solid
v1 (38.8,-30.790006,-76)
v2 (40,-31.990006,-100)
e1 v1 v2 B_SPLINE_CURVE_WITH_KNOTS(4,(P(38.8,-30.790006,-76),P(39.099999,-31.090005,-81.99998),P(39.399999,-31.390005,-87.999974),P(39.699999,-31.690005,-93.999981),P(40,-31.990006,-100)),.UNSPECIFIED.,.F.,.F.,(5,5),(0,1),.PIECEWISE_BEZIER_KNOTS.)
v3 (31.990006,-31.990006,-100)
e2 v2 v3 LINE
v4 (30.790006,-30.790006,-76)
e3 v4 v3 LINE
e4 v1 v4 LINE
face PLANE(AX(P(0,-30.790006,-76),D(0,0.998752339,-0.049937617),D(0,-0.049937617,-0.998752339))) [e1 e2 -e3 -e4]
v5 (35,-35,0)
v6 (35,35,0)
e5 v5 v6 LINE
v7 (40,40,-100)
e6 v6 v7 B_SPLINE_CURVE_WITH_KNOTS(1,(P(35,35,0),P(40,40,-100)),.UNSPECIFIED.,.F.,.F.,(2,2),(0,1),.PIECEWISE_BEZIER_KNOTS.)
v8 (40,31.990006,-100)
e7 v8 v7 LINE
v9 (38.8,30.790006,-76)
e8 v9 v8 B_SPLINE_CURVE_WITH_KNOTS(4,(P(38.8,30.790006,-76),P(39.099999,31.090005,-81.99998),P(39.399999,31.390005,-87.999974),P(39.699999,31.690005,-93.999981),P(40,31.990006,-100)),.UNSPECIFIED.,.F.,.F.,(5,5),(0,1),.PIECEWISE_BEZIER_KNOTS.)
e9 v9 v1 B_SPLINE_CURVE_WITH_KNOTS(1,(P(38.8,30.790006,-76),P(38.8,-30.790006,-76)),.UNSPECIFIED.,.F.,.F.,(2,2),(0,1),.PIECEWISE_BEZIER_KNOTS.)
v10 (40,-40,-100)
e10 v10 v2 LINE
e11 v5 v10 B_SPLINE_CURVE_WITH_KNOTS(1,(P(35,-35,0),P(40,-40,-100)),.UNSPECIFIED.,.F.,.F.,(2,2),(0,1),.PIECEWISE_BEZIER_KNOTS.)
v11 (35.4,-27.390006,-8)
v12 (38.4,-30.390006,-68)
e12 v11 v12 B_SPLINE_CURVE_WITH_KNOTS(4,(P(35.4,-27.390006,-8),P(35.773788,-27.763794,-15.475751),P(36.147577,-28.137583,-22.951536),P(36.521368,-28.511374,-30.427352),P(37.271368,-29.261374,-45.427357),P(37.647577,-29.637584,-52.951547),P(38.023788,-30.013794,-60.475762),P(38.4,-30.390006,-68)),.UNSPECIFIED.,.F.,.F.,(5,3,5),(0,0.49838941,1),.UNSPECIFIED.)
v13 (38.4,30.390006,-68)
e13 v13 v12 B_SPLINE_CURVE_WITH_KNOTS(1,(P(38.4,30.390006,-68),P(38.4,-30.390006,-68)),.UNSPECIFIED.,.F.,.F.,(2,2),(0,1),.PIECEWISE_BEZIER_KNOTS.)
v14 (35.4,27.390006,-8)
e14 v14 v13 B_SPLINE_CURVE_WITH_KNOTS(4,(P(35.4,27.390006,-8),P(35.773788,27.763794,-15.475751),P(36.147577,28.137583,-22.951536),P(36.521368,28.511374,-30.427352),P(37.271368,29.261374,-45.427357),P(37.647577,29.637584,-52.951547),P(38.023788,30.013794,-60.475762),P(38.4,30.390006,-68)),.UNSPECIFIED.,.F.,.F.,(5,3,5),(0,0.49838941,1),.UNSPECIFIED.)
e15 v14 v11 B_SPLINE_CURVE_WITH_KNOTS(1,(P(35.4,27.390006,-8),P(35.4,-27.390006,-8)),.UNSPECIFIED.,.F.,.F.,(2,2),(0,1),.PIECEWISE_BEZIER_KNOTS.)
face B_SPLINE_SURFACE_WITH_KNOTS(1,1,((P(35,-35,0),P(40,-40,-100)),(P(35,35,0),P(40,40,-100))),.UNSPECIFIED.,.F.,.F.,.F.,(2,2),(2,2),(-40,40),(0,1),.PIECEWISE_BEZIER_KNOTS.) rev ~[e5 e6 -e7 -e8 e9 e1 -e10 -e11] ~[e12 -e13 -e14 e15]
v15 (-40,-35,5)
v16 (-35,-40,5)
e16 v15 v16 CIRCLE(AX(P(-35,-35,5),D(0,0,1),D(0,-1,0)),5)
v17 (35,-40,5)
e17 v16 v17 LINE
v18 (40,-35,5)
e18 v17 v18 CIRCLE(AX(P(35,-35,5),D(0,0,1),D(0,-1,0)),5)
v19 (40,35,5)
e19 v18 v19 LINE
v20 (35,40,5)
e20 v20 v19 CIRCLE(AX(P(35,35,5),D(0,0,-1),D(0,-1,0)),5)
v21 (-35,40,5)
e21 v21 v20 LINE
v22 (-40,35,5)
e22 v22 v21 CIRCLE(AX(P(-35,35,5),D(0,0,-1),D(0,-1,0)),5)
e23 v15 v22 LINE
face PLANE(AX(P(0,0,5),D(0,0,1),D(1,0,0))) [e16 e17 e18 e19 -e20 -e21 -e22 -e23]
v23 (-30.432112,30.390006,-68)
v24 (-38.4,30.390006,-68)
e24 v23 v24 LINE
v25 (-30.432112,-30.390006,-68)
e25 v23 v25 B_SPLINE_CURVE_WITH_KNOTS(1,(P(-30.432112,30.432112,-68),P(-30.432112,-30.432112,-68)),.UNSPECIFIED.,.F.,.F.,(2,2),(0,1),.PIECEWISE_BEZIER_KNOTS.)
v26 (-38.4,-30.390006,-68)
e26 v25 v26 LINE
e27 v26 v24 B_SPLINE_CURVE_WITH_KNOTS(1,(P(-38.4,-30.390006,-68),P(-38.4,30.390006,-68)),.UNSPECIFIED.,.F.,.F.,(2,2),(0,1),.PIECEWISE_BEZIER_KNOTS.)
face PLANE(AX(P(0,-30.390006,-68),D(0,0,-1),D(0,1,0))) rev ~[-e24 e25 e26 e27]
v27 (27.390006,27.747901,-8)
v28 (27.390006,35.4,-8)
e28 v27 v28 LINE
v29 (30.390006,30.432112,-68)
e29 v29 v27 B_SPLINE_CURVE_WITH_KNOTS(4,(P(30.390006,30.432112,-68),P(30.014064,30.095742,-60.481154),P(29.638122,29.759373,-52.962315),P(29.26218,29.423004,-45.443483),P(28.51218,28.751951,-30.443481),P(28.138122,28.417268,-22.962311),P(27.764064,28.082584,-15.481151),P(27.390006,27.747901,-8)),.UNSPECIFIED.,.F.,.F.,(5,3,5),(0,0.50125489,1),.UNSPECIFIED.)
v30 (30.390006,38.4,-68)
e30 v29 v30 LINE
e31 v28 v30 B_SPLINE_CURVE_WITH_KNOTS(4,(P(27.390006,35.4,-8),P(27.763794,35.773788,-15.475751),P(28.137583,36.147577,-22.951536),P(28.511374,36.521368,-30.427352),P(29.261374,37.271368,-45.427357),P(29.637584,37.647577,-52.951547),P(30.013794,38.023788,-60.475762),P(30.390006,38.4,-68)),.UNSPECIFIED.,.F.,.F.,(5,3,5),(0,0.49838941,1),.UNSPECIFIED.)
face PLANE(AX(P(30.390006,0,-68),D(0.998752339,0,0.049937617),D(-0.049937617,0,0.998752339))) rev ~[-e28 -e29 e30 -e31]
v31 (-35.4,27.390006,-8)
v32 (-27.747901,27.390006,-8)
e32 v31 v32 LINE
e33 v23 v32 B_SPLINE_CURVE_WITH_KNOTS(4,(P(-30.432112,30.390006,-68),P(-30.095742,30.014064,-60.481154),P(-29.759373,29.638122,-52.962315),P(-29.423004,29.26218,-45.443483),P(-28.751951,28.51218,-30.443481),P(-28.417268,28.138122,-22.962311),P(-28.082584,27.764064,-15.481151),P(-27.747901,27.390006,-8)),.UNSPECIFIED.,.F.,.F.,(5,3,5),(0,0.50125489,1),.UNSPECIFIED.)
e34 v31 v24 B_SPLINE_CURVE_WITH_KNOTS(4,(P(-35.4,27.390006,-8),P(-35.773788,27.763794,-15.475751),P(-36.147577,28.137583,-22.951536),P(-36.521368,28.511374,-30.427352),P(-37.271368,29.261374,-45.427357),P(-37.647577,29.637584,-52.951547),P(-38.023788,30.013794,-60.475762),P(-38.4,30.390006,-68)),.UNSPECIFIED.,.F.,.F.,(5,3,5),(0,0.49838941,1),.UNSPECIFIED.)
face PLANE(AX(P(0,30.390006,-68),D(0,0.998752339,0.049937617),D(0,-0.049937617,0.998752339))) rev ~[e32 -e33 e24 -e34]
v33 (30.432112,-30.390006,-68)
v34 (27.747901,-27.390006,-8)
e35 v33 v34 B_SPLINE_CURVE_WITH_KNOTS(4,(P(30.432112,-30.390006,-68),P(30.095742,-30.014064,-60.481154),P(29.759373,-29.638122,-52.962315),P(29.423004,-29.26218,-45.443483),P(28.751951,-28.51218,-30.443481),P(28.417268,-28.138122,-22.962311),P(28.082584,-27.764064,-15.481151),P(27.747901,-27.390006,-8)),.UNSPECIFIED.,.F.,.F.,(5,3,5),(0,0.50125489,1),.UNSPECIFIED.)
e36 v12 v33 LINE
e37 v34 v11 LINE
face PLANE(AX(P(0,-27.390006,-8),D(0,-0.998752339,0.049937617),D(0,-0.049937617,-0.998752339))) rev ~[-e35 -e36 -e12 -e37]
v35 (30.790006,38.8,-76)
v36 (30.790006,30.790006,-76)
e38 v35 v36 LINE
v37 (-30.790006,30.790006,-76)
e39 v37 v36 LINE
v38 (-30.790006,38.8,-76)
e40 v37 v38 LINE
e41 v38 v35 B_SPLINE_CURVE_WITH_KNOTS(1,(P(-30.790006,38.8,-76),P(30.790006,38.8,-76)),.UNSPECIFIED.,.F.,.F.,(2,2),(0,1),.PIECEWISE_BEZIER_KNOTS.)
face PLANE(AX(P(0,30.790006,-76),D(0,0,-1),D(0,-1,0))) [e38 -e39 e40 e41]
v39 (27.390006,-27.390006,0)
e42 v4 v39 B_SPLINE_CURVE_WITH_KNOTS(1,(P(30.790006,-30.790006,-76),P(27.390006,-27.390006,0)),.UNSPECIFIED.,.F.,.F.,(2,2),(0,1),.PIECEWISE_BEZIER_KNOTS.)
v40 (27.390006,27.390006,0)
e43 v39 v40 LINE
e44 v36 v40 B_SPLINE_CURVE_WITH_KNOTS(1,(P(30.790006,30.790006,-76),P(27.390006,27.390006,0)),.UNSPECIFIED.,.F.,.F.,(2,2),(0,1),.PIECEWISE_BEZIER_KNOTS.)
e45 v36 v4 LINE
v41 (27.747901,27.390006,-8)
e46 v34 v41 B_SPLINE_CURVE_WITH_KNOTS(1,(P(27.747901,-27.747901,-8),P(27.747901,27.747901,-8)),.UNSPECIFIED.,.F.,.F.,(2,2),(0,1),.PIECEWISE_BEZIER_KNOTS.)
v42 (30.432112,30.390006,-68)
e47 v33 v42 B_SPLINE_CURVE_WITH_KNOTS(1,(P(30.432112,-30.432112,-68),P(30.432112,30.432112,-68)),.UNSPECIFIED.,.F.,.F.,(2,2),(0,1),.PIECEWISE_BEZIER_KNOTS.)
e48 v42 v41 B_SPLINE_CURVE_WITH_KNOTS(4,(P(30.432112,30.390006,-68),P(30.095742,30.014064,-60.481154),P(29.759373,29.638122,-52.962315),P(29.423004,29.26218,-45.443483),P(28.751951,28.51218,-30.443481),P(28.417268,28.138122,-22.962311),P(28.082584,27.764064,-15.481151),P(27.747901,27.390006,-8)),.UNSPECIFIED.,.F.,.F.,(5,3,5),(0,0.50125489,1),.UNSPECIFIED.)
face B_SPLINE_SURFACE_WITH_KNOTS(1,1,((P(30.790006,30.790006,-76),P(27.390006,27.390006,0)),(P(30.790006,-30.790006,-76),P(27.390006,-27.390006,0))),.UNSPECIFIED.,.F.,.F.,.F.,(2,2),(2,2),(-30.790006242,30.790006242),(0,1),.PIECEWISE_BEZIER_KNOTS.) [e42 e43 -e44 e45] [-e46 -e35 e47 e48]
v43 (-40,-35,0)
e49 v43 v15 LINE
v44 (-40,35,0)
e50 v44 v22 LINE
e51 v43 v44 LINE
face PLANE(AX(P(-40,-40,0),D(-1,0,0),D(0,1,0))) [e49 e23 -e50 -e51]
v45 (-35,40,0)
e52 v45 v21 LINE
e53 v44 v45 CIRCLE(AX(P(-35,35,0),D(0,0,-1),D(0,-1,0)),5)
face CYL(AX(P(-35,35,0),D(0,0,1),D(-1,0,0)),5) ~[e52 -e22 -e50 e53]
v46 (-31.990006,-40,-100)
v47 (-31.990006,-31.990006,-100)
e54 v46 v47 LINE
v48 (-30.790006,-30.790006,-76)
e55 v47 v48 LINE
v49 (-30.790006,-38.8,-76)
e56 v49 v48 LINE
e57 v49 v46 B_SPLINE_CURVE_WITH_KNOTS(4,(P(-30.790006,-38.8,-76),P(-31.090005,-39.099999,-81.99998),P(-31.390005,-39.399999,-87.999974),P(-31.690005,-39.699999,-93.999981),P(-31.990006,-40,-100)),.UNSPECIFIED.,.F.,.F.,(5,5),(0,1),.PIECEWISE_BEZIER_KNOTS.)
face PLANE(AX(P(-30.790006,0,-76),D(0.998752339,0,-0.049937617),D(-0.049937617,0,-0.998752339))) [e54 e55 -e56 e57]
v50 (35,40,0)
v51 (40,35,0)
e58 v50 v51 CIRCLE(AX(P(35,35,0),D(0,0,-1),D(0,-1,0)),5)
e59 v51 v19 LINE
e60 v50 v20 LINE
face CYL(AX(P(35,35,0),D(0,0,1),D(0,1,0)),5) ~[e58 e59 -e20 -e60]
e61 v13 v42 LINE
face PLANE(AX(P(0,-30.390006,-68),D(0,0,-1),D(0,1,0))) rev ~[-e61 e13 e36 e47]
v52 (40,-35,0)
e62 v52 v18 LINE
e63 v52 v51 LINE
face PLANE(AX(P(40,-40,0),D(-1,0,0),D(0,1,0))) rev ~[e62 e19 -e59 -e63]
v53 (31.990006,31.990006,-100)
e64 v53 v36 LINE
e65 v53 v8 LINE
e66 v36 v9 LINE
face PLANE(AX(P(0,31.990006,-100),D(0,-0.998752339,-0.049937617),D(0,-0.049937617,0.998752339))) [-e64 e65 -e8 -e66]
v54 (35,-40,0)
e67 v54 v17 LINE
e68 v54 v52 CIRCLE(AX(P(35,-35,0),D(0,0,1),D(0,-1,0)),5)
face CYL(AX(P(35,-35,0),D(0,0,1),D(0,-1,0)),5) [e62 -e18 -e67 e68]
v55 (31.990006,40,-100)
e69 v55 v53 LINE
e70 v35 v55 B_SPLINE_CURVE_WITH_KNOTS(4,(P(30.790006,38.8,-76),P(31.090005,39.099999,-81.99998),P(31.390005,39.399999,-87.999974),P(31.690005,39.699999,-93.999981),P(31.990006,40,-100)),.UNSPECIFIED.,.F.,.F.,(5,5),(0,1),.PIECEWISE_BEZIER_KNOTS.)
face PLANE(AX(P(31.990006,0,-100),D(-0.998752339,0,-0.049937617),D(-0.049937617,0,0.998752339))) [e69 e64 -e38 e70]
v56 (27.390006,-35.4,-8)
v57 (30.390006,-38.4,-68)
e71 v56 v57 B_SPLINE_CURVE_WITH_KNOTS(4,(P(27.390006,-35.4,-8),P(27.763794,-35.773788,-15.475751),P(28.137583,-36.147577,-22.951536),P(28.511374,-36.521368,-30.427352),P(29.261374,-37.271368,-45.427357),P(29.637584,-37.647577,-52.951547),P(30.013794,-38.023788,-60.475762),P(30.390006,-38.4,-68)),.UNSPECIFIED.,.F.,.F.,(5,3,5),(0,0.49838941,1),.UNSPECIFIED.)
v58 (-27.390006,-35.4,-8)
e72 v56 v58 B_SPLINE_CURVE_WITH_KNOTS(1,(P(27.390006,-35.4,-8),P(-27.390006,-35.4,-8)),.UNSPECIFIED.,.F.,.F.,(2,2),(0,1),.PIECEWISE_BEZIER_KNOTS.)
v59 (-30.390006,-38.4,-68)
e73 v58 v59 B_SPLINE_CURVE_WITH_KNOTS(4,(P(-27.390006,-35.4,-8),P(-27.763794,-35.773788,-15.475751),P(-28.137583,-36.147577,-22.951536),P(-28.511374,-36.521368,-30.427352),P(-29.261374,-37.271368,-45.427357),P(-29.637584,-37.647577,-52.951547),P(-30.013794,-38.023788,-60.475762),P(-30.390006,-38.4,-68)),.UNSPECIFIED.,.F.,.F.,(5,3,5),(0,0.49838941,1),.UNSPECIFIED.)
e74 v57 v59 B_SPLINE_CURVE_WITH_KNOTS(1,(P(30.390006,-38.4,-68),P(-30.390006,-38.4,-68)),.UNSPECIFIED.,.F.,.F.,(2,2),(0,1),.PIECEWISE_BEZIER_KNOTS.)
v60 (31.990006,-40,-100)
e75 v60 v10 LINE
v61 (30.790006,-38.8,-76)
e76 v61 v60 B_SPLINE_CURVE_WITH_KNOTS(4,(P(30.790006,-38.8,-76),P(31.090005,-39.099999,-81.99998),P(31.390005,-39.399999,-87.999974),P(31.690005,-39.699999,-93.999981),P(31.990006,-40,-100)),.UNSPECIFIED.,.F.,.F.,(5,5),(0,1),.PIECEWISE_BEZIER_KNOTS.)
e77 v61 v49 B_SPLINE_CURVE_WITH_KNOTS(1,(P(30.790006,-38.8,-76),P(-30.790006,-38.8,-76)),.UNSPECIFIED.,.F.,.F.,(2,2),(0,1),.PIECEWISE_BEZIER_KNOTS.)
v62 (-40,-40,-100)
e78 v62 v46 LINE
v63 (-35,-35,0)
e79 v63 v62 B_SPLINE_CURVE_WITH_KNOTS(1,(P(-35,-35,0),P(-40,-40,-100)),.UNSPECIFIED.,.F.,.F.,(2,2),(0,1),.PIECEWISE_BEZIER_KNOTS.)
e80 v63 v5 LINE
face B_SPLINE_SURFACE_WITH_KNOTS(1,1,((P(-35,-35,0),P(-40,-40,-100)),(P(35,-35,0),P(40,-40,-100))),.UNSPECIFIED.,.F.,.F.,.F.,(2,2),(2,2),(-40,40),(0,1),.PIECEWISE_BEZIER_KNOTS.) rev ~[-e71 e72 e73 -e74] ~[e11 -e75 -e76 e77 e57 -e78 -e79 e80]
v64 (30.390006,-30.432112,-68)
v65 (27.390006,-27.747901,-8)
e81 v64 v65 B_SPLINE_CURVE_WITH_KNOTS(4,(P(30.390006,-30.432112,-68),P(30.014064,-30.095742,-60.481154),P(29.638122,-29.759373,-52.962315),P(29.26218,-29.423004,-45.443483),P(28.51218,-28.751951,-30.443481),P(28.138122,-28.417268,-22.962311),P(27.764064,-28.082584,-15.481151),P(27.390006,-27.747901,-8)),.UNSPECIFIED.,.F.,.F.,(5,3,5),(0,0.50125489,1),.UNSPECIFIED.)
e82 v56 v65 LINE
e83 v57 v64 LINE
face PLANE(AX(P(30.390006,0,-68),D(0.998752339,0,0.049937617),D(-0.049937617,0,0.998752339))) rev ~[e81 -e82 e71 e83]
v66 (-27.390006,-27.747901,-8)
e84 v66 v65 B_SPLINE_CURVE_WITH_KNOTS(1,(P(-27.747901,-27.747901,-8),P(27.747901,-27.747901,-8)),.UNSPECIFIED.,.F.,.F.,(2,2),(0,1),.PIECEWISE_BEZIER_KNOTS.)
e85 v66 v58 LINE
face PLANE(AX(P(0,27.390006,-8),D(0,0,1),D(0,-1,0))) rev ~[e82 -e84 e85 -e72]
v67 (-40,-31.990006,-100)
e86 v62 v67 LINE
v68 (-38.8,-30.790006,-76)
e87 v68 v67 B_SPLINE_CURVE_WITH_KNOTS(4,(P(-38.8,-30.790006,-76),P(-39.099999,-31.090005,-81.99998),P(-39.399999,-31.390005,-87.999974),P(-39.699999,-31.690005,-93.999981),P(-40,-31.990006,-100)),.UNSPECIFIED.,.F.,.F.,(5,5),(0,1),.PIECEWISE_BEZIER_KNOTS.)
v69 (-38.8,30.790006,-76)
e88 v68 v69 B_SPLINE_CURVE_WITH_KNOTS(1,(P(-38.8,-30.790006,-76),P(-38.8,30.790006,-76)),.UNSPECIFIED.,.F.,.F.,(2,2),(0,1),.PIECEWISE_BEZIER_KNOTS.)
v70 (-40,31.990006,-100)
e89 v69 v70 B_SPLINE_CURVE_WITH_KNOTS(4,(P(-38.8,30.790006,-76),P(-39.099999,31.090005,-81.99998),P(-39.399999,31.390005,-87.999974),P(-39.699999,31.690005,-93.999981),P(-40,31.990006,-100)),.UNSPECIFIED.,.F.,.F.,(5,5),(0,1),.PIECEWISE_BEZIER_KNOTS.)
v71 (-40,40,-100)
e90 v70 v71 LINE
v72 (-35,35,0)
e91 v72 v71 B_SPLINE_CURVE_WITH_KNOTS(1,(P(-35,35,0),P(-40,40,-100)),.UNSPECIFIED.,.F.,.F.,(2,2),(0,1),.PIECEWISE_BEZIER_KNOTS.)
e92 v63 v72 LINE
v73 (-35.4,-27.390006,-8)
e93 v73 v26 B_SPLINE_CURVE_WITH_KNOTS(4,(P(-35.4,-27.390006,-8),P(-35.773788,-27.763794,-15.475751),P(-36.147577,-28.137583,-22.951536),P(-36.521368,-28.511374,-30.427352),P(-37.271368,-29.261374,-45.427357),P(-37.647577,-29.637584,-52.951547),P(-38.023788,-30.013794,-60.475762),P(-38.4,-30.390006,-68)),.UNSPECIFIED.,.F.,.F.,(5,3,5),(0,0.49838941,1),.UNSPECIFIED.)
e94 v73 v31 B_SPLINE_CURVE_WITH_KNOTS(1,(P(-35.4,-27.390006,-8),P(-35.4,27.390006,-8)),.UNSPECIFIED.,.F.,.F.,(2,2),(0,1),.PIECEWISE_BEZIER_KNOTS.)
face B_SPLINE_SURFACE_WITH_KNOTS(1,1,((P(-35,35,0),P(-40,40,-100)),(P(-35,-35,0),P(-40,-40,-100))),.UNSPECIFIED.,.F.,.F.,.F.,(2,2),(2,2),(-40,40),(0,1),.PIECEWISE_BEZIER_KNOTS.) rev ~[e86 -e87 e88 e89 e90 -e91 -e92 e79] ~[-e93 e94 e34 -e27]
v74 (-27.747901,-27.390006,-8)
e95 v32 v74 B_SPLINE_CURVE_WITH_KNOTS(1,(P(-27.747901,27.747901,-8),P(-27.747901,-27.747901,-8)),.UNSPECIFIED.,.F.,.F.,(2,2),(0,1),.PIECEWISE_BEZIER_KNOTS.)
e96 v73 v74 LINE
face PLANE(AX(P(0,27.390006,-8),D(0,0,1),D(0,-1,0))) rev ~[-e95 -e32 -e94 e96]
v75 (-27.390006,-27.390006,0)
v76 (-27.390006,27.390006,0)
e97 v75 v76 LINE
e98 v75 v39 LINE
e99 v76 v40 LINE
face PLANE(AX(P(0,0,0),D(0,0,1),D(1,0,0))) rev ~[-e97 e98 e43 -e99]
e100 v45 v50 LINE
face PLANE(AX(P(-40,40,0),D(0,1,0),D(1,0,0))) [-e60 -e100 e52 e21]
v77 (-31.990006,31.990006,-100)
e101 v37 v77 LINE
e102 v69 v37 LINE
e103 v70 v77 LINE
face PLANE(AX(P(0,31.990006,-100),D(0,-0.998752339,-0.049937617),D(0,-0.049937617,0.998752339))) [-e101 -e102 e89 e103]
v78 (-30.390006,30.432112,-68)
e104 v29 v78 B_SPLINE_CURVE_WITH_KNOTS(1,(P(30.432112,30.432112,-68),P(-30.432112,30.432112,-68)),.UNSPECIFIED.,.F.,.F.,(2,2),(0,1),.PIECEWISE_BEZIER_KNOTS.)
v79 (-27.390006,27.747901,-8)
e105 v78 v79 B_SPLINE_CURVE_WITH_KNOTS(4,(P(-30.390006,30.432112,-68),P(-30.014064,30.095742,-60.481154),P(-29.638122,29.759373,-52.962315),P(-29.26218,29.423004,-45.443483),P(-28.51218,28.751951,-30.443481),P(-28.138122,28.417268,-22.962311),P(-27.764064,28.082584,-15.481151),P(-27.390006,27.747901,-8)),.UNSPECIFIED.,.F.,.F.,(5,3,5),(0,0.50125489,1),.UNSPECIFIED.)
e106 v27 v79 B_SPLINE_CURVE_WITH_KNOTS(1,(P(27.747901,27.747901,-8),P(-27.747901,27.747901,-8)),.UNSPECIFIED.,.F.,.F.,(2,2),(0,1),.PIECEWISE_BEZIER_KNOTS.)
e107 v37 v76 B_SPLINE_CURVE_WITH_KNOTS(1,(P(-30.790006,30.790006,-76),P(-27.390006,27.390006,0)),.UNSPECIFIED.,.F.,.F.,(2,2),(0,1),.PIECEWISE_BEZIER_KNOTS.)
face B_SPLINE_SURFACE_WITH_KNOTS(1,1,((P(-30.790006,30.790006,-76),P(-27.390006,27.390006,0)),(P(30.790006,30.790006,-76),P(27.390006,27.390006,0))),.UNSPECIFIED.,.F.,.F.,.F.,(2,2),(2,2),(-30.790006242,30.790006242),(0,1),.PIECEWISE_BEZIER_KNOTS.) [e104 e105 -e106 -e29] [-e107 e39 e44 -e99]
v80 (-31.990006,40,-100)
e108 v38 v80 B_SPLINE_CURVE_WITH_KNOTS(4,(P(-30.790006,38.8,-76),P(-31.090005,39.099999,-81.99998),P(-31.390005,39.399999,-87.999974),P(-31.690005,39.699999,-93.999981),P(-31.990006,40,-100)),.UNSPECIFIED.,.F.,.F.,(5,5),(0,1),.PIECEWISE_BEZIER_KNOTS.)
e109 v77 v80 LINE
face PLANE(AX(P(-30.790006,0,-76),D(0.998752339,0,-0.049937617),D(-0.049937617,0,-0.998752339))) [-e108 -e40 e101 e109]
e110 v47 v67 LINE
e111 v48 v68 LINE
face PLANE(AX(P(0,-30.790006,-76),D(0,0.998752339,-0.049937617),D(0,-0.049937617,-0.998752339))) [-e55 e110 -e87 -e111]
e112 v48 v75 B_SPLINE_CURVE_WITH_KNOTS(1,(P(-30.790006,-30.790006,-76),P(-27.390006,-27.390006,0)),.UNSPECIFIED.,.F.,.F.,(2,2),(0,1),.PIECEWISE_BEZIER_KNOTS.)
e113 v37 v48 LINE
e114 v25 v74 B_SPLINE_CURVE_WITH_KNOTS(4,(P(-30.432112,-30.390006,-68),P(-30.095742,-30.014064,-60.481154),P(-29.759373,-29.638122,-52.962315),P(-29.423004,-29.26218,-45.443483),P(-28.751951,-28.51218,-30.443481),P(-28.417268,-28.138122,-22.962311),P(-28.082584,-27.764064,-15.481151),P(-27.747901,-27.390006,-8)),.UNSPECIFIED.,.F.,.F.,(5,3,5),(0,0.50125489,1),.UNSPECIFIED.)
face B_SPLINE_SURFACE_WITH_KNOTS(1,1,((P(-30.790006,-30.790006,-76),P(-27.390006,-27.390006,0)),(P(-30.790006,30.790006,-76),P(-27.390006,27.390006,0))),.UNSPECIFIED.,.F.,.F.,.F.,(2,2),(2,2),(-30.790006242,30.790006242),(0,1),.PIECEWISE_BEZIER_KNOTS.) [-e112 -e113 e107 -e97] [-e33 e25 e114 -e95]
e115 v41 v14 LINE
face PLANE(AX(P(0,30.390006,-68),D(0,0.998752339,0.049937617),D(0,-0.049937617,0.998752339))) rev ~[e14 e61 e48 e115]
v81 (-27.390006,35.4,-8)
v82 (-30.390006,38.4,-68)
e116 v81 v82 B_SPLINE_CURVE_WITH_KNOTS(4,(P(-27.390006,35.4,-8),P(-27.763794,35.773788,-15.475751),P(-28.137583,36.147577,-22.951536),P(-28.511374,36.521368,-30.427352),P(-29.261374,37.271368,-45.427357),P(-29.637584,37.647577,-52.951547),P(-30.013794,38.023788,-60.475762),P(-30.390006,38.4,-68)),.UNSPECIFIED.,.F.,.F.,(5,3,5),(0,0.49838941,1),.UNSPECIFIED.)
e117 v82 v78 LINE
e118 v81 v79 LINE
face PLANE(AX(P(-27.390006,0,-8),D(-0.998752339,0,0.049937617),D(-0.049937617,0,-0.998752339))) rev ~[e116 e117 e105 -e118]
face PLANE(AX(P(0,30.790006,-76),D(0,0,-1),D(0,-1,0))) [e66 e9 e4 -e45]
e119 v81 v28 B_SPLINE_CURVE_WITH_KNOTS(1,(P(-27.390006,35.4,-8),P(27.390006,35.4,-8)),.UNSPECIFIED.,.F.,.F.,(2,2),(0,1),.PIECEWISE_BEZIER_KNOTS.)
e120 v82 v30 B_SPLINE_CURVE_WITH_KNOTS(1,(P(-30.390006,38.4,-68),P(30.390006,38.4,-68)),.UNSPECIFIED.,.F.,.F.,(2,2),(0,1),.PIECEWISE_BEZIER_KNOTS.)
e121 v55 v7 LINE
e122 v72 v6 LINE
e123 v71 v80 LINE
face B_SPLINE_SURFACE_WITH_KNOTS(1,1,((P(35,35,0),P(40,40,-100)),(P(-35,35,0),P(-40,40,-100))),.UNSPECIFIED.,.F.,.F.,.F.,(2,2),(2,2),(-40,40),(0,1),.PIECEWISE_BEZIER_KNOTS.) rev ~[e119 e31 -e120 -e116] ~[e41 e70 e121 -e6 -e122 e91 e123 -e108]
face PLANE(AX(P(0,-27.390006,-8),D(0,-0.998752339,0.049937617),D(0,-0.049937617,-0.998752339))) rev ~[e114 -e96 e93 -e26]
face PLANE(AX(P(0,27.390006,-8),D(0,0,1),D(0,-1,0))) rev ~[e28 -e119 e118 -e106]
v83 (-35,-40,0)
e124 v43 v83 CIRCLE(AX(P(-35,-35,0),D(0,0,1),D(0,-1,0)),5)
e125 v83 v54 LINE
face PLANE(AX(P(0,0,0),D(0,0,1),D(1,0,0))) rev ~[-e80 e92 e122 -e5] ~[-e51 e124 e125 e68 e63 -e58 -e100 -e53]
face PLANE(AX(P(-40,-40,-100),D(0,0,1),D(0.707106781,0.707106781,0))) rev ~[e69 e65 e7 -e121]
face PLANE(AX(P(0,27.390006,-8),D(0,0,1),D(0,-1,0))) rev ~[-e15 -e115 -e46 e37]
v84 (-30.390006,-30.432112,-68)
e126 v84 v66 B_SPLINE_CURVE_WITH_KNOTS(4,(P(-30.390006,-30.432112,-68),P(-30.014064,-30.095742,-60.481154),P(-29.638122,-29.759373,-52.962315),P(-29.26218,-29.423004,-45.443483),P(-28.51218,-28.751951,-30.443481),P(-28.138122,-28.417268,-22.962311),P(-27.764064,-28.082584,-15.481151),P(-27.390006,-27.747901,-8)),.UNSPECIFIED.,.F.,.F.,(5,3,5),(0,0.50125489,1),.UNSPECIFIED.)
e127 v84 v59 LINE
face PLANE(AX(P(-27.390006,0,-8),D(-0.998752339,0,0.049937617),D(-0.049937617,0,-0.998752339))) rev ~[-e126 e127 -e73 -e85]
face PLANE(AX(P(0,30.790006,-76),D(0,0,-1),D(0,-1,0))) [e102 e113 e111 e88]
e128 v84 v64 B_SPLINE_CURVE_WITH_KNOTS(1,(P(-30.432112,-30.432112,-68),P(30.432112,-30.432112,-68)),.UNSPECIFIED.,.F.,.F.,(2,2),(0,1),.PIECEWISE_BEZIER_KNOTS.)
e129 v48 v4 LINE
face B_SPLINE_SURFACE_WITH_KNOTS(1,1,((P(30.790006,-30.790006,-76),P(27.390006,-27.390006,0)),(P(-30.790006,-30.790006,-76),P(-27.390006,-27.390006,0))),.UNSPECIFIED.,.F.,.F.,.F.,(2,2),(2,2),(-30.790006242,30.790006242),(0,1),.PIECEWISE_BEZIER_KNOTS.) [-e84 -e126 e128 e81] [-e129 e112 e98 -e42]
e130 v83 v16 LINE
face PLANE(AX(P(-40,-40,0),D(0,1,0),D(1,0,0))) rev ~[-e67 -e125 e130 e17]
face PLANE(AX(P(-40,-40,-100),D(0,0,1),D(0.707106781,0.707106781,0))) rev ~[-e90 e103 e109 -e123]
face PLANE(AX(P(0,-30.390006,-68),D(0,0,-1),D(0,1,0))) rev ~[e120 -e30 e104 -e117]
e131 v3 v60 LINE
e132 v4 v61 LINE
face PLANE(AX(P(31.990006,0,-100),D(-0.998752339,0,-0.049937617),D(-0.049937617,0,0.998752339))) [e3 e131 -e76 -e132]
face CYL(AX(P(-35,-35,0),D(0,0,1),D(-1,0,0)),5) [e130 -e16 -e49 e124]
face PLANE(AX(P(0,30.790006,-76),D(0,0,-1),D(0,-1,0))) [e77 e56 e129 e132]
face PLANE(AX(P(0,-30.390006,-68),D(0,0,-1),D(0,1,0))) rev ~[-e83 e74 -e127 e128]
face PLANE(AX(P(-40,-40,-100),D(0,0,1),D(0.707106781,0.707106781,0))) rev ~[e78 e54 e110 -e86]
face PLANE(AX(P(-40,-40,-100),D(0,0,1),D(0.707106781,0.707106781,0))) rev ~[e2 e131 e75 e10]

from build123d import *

# Parameters (mm, degrees)
F0_W      = 70
F0_H      = 70
F2_W      = 80
F2_H      = 80
F5_DEPTH  = 62.8
F7_DEPTH  = 96
F8_W      = 61.5800124844
F8_H      = 61.5800124844
F9_W      = 54.7800124844
F9_H      = 54.7800124844
F11_W     = 80
F11_H     = 80
F12_DEPTH = 5
F13_R     = 5


with BuildPart() as f3:
    # F0 (on Top) → F3 section 0
    with BuildSketch(Plane.XY):
        Rectangle(F0_W, F0_H)
    # F2 (on offset) → F3 section 1
    with BuildSketch(Plane.XY.offset(-100)):
        Rectangle(F2_W, F2_H)
    loft()

    # F4 (on Front) → F5 (cut, symmetric)
    with BuildSketch(Plane.XZ):
        Polygon((-31.9900062422, -100), (31.9900062422, -100), (30.7900062422, -76), (-30.7900062422, -76), align=None)
        Polygon((27.3900062422, -8), (-27.3900062422, -8), (-30.3900062422, -68), (30.3900062422, -68), align=None)
    extrude(amount=F5_DEPTH, both=True, mode=Mode.SUBTRACT)

    # F6 (on Right) → F7 (cut, symmetric)
    with BuildSketch(Plane.YZ):
        Polygon((-31.9900062422, -100), (31.9900062422, -100), (30.7900062422, -76), (-30.7900062422, -76), align=None)
        Polygon((30.3900062422, -68), (27.3900062422, -8), (-27.3900062422, -8), (-30.3900062422, -68), align=None)
    extrude(amount=F7_DEPTH, both=True, mode=Mode.SUBTRACT)

    # F8 (on face) → F10 section 0
    with BuildSketch(Plane(origin=(0, 0, -76), x_dir=(1, 0, 0), z_dir=(0, 0, -1))):
        Rectangle(F8_W, F8_H)
    # F9 (on face) → F10 section 1
    with BuildSketch(Plane.XY):
        Rectangle(F9_W, F9_H)
    loft(mode=Mode.SUBTRACT)

    # F11 (on face) → F12 (join)
    with BuildSketch(Plane.XY):
        Rectangle(F11_W, F11_H)
    extrude(amount=F12_DEPTH)

    # F13
    f13_edges = [f3.edges().sort_by_distance(p)[0] for p in [
        (-40, 40, 2.5),
        (-40, -40, 2.5),
        (40, -40, 2.5),
        (40, 40, 2.5),
    ]]
    fillet(f13_edges, radius=F13_R)


solid = f3.part
